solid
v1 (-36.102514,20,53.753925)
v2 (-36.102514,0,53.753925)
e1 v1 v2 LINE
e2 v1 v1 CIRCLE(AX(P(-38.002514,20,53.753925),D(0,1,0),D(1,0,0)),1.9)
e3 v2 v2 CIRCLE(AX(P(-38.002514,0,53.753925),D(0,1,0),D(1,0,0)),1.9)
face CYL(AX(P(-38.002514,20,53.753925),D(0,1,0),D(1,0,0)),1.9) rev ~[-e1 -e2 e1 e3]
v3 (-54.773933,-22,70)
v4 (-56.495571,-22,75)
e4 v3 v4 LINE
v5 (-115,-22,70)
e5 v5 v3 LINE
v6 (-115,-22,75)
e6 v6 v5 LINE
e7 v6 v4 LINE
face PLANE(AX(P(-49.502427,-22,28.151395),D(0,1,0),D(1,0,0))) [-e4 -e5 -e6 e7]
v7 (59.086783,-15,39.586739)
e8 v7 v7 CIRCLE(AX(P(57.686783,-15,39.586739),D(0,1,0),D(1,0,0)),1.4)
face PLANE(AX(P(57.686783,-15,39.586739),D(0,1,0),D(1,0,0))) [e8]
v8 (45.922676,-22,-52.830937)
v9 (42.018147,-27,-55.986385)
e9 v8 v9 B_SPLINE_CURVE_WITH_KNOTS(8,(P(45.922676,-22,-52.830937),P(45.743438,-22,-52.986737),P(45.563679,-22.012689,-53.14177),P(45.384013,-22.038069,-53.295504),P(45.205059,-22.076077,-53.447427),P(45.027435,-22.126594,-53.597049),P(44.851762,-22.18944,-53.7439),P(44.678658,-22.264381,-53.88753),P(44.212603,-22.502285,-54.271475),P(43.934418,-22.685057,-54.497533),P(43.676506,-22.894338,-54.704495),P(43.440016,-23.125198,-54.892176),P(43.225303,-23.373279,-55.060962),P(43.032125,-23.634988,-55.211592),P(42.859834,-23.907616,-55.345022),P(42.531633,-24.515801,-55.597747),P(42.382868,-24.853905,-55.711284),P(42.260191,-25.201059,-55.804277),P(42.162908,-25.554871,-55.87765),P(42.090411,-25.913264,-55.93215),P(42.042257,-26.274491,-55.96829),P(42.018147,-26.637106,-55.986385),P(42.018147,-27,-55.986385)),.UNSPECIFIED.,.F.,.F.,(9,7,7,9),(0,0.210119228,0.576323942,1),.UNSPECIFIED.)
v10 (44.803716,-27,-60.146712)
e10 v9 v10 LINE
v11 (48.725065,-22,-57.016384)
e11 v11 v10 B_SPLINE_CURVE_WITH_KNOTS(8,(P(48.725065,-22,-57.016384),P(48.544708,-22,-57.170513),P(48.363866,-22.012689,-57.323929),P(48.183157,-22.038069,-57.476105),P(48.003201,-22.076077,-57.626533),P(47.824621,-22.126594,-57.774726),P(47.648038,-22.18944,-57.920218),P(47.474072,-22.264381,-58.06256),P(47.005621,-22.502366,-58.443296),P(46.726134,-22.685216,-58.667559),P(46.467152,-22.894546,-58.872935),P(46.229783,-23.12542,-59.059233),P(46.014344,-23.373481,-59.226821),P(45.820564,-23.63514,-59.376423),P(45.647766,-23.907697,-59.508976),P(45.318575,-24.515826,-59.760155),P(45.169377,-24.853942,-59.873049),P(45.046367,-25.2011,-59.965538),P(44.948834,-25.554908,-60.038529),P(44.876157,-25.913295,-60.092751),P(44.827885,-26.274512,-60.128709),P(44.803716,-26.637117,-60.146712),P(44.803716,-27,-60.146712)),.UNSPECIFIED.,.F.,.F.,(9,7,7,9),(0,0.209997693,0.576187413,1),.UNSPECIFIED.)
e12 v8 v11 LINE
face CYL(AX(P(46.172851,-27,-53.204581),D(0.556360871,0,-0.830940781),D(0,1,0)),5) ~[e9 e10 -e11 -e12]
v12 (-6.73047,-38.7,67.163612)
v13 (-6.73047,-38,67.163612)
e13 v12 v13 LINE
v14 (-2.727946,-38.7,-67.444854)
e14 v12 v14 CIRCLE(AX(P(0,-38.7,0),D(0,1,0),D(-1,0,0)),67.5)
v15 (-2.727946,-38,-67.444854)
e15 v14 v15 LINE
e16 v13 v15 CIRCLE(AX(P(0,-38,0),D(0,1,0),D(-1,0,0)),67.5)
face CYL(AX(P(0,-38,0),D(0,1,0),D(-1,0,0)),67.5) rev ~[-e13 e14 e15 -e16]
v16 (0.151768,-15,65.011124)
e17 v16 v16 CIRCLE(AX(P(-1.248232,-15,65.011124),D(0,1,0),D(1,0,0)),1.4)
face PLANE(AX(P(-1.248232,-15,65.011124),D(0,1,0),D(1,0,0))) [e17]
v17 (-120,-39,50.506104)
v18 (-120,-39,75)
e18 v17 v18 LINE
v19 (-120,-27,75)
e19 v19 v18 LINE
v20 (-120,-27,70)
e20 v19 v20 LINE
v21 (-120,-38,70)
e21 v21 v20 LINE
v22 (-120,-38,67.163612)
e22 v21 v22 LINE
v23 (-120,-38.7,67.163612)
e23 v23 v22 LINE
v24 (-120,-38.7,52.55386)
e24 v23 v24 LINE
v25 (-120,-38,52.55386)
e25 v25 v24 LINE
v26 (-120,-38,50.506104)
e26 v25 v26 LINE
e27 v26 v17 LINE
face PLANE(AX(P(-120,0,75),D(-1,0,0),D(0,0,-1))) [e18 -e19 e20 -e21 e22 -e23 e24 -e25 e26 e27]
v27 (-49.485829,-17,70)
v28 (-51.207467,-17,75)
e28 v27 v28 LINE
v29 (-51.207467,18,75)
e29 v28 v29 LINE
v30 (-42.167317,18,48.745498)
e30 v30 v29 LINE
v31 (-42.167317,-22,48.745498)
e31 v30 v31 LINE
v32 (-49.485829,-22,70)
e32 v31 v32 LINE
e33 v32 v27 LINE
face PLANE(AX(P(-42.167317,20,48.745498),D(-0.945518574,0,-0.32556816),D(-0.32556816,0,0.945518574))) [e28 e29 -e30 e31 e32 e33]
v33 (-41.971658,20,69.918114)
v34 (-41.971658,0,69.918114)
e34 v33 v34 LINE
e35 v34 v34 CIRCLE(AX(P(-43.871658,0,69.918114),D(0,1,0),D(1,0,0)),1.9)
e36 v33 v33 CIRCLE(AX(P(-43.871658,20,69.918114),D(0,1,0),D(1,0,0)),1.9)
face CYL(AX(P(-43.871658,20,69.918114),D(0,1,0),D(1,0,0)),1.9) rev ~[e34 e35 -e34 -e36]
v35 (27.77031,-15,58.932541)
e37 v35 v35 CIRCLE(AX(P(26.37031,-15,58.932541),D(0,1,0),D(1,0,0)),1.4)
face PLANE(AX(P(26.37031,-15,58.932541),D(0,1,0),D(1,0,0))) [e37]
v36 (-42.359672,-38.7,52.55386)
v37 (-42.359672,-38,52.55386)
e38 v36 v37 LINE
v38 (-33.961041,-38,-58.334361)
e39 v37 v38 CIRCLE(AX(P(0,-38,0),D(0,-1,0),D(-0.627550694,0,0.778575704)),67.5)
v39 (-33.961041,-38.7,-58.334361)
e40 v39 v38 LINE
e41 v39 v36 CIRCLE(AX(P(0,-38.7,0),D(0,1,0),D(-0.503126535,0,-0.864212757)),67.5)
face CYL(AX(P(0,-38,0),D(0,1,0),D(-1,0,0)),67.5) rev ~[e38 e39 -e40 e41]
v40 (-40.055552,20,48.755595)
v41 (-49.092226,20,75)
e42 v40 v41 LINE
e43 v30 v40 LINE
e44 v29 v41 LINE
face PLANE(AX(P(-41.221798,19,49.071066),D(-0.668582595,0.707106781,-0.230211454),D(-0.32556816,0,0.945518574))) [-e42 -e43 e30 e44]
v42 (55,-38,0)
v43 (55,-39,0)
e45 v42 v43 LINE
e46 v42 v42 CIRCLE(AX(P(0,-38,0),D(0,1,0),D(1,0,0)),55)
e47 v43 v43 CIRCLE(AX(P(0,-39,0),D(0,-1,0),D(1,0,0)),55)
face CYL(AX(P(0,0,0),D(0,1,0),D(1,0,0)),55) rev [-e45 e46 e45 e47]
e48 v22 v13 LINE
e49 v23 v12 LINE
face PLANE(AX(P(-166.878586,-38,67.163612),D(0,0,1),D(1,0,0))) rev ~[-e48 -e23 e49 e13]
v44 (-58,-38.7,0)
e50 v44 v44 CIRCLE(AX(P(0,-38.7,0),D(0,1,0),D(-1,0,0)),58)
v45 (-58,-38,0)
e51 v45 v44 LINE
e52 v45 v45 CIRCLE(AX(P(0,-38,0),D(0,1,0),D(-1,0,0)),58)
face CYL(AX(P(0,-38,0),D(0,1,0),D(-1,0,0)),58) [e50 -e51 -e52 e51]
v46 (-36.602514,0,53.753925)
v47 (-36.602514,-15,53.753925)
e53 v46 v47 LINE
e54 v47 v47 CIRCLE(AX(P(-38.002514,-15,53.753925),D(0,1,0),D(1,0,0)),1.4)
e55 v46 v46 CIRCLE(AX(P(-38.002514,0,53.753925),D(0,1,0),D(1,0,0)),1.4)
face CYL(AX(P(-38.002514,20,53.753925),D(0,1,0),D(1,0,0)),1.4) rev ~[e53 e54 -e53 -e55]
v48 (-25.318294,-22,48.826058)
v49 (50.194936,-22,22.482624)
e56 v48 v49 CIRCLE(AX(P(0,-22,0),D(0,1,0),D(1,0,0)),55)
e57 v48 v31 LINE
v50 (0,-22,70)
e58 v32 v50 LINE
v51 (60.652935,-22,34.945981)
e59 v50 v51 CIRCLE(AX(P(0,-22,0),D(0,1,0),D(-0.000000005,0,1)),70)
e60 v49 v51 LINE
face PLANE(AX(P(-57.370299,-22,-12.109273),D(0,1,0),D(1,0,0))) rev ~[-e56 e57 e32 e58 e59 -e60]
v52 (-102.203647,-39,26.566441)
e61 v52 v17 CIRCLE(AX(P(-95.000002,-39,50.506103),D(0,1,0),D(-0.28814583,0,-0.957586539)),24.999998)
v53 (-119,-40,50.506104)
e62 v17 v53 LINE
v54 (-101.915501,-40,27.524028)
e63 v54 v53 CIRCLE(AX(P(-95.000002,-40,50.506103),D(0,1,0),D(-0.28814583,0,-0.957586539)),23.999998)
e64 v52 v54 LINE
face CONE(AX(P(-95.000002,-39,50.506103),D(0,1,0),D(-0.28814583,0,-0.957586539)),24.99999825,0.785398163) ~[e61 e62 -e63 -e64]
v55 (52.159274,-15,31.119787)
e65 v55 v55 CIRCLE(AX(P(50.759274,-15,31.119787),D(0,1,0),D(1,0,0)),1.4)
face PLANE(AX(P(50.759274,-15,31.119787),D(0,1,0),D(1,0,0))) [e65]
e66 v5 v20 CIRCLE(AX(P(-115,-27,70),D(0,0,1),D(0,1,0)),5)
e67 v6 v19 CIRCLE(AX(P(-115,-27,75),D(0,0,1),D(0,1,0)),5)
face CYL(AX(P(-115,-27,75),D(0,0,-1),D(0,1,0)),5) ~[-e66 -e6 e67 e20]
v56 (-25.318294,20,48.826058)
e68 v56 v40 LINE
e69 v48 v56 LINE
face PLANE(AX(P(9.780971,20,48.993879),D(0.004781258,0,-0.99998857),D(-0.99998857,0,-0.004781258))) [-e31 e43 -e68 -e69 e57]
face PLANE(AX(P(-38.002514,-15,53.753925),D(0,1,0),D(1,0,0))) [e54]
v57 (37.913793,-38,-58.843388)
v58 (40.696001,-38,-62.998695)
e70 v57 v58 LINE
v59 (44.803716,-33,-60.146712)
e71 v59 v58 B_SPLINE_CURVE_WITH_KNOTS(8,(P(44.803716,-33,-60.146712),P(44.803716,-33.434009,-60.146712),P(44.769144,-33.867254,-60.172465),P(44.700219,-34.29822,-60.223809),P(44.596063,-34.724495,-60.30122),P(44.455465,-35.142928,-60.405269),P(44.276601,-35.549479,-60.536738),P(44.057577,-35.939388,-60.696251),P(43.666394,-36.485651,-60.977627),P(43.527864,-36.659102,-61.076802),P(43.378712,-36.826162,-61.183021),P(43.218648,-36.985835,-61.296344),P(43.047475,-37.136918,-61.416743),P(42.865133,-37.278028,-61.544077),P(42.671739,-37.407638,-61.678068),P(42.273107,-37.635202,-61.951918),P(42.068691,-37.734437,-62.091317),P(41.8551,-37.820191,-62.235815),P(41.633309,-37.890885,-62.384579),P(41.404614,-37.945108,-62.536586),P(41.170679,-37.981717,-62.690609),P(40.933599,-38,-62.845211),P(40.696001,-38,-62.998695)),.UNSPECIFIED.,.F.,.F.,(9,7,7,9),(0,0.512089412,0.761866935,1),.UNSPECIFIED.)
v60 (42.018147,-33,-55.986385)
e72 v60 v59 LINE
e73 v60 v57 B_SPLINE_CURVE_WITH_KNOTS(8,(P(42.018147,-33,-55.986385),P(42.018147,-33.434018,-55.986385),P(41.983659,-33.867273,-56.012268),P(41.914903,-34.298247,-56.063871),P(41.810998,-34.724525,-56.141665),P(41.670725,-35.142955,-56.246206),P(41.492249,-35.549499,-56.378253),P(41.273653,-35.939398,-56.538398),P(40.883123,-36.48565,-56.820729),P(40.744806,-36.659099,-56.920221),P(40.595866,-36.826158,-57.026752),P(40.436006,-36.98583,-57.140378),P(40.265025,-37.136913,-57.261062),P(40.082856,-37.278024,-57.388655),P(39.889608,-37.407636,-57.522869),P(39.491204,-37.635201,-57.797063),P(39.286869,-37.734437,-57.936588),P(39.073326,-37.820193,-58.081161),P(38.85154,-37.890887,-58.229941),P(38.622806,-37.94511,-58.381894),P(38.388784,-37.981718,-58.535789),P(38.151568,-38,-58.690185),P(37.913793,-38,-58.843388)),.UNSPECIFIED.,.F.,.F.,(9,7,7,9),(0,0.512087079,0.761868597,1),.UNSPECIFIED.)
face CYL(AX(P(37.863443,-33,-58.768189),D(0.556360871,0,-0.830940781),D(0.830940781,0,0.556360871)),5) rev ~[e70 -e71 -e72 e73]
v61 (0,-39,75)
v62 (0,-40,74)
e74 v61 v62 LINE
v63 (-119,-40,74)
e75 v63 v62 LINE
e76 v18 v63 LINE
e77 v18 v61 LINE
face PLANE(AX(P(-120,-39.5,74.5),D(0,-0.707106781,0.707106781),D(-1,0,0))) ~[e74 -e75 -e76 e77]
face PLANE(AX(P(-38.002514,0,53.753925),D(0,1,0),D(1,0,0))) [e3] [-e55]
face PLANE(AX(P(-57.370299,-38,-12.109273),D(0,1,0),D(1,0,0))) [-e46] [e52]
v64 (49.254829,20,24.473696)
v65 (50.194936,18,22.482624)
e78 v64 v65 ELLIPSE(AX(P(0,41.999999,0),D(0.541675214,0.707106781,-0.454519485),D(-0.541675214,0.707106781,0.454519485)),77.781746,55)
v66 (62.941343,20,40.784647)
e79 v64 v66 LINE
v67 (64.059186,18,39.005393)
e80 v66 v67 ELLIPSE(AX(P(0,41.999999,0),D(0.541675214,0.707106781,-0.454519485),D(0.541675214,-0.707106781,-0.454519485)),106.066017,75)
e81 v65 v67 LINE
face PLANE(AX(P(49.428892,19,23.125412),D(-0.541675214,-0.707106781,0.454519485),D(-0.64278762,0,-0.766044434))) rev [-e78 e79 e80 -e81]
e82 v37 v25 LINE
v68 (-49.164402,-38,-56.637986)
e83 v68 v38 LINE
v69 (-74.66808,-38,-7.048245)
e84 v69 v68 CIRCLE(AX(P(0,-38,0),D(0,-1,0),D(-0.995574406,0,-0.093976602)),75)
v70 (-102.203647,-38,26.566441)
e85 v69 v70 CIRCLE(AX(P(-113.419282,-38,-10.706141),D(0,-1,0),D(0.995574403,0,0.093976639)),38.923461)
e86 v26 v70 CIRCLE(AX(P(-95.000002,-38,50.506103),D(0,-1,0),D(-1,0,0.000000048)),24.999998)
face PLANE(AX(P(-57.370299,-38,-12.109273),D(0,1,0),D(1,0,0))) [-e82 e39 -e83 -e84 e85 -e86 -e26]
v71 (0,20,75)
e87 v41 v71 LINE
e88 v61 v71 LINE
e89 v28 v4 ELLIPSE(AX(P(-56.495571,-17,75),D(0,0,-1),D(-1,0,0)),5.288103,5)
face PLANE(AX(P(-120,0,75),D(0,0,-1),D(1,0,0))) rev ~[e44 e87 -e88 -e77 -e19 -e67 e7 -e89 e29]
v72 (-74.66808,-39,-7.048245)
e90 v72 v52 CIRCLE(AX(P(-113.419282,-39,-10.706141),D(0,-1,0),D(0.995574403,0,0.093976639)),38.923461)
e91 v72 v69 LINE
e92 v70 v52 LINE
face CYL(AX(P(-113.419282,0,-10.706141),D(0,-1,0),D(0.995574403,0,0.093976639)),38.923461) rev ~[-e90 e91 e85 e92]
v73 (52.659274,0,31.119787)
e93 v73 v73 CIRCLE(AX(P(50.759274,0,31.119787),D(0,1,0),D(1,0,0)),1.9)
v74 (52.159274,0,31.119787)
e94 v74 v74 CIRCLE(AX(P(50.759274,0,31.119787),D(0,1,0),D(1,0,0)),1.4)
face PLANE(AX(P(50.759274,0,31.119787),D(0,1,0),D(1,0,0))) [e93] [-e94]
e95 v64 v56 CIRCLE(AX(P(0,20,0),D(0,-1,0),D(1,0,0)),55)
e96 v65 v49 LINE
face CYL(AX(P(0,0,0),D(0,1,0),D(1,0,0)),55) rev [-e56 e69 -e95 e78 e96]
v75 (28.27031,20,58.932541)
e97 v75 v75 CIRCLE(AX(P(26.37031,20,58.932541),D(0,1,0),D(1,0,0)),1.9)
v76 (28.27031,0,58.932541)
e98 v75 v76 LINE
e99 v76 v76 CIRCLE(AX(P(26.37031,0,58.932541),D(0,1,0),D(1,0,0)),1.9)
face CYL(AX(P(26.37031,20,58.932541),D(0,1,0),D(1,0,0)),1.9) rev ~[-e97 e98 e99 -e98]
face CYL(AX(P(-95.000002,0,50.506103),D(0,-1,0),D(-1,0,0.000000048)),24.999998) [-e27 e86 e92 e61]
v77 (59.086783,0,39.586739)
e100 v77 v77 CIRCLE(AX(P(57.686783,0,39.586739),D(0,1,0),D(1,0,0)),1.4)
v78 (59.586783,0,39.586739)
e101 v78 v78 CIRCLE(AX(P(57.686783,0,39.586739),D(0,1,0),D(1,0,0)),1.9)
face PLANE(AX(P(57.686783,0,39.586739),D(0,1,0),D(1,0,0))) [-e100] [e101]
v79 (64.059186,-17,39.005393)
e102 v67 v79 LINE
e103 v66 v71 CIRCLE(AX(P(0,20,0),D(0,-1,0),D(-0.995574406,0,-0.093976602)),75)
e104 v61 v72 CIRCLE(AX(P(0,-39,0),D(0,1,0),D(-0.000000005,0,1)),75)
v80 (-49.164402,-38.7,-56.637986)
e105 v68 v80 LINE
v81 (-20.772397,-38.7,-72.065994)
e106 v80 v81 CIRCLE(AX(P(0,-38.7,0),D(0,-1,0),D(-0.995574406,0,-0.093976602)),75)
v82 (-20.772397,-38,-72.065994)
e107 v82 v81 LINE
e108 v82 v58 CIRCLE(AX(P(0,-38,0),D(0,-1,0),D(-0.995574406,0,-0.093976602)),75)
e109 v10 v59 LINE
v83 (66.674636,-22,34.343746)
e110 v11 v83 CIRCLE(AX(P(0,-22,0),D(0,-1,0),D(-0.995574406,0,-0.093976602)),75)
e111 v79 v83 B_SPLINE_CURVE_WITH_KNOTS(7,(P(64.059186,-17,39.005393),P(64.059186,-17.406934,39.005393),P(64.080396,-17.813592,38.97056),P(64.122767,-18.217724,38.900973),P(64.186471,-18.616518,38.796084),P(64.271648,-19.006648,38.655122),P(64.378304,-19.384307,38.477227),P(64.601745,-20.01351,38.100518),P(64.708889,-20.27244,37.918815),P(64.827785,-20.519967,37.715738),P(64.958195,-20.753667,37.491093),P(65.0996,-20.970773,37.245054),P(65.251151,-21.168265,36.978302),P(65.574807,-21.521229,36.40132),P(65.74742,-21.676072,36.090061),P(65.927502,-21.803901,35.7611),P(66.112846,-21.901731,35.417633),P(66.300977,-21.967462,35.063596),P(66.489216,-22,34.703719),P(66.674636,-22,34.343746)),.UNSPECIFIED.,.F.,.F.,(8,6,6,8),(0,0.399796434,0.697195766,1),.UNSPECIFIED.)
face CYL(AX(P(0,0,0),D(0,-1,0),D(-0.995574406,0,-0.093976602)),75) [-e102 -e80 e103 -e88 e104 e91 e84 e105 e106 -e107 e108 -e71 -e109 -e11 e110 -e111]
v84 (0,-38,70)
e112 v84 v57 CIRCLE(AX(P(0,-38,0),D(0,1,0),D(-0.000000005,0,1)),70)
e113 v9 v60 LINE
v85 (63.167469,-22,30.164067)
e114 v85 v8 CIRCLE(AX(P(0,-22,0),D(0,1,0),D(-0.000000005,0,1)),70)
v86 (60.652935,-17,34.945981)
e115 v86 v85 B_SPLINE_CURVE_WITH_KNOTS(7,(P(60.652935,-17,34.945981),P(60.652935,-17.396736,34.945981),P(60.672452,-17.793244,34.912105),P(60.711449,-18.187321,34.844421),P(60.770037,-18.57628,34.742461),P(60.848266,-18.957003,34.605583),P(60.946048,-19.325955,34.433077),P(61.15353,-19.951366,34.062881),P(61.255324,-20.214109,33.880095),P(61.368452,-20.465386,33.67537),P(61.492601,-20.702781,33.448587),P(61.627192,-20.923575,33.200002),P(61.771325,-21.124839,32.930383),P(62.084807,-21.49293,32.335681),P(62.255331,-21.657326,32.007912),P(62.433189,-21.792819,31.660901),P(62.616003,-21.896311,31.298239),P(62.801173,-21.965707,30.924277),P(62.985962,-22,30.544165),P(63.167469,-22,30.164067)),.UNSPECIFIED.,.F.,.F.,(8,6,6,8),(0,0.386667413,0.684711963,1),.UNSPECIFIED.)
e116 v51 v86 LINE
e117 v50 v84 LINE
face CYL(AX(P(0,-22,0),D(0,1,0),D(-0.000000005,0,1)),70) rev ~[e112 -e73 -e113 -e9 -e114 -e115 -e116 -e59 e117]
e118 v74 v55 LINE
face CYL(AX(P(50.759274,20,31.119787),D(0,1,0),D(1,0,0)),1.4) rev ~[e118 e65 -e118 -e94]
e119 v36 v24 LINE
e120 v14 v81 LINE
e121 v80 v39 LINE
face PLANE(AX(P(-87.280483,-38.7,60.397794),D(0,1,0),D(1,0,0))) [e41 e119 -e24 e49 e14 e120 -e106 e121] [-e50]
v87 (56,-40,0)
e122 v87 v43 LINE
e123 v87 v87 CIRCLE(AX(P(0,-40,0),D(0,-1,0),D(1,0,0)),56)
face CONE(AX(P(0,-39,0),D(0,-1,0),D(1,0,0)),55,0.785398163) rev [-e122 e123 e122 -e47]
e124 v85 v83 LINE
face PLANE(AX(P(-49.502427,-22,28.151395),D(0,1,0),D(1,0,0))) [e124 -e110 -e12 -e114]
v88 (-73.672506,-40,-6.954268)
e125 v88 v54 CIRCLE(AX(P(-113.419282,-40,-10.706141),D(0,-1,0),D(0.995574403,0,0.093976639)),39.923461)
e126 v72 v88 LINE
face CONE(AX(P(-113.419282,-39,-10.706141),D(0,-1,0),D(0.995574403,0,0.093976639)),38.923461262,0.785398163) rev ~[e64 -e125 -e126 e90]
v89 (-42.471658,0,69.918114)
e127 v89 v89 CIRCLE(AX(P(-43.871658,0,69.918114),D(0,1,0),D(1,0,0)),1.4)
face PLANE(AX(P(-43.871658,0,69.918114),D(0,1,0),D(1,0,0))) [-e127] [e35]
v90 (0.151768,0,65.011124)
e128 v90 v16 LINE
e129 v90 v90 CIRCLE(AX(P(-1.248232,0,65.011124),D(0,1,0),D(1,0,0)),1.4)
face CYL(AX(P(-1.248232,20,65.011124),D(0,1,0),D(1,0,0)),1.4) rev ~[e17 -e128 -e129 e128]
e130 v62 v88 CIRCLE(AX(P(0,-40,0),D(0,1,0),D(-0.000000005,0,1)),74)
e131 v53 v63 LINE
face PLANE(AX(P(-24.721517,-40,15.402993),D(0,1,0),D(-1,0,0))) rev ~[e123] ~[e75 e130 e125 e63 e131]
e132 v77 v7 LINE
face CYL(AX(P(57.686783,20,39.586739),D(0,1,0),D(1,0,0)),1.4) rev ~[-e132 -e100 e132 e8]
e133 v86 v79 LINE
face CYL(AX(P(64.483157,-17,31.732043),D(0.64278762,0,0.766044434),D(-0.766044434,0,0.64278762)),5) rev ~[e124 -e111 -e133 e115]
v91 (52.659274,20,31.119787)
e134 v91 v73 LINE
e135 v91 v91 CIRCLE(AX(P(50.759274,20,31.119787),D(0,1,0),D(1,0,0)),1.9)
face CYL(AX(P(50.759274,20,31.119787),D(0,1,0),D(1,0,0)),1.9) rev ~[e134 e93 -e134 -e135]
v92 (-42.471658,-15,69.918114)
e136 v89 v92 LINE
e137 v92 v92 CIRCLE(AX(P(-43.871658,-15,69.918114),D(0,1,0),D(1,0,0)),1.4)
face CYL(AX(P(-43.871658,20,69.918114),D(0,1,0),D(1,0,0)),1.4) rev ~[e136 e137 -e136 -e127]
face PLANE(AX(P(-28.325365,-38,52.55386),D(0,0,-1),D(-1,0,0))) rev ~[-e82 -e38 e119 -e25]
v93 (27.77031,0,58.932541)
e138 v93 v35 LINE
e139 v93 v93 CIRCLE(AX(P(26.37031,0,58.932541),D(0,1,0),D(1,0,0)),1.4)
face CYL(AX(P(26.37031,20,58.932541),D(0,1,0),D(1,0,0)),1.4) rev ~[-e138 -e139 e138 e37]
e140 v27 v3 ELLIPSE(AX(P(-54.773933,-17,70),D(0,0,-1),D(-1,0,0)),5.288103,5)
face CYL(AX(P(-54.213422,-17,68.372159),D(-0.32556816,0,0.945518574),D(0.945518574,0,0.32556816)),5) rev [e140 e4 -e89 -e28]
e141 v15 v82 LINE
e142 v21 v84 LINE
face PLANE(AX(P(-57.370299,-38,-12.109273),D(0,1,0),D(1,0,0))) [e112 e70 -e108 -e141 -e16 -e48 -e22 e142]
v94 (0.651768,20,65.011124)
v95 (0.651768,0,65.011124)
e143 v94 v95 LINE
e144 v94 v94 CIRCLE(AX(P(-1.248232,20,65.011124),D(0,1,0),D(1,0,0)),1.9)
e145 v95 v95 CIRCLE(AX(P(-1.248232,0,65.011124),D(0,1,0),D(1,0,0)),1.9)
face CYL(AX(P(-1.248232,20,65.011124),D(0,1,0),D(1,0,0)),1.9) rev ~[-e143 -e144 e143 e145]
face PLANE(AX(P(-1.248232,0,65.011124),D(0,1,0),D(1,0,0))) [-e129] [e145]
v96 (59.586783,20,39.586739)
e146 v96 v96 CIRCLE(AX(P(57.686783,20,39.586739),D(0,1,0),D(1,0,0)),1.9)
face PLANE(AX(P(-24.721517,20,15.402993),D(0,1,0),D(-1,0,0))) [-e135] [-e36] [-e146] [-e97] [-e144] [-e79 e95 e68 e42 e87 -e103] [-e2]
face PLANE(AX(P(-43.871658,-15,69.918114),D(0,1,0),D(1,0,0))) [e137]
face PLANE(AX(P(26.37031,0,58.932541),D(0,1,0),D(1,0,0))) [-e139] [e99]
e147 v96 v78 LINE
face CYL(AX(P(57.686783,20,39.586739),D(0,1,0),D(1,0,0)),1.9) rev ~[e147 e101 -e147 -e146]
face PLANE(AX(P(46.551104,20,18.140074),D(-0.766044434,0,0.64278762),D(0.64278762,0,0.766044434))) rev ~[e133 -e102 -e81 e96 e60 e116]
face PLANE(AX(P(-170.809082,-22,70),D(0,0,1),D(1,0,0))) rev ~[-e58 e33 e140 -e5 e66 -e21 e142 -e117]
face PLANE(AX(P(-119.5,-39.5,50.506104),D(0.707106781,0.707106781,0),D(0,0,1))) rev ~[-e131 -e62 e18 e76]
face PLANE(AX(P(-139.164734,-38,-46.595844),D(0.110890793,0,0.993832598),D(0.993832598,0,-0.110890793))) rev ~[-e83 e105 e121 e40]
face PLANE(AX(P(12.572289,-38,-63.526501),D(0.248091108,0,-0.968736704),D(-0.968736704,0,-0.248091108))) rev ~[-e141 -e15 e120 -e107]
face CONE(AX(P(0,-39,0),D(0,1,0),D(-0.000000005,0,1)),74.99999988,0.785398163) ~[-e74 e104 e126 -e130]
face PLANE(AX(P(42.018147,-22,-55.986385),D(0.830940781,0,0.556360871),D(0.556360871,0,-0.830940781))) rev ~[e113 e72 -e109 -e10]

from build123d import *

# Parameters (mm, degrees)
SKETCH_R        = 55
PAD_DEPTH       = 40
PAD_DEPTH_BACK  = 20
POCKET_DEPTH    = 42
POCKET001_DEPTH = 16
SKETCH004_R     = 67.5
SKETCH004_R_2   = 58
POCKET002_DEPTH = 0.7
POCKET003_DEPTH = 0.7
SKETCH006_R     = 1.4
POCKET004_DEPTH = 35
SKETCH007_R     = 1.9
POCKET005_DEPTH = 20
FILLET_R        = 5
FILLET001_R     = 5
FILLET002_R     = 5
FILLET003_R     = 5
CHAMFER_SIZE    = 2
CHAMFER001_SIZE = 1


with BuildPart() as part:
    # Sketch → Pad (new body, two sides)
    with BuildSketch(Plane.XZ) as pad_sk:
        with BuildLine():
            Line((-120, 75), (0, 75))
            ThreePointArc((-74.66808, -7.048245), (55.468993, -50.479608), (0, 75))
            ThreePointArc((-74.66808, -7.048245), (-83.30852, 13.959176), (-102.203647, 26.566441))
            ThreePointArc((-120, 50.506104), (-115.063539, 35.591198), (-102.203647, 26.566441))
            Line((-120, 75), (-120, 50.506104))
        make_face()
        Circle(SKETCH_R, mode=Mode.SUBTRACT)
    extrude(amount=PAD_DEPTH)
    extrude(pad_sk.sketch, amount=-PAD_DEPTH_BACK)

    # Sketch001 (on Face7 of Pad) → Pocket (cut)
    with BuildSketch(Plane(origin=(0, 20, 0), x_dir=(1, 0, 0), z_dir=(0, 1, 0))):
        with BuildLine():
            Line((46.551104, -18.140074), (74.636799, -51.611301))
            ThreePointArc((74.636799, -51.611301), (27.033088, 86.623267), (-90.743475, 0))
            Line((-211.758942, -108.831918), (-90.743475, 0))
            Line((-62.856731, -108.831918), (-211.758942, -108.831918))
            Line((-42.167317, -48.745498), (-62.856731, -108.831918))
            Line((9.780971, -48.993879), (-42.167317, -48.745498))
            Line((46.551104, -18.140074), (9.780971, -48.993879))
        make_face()
    extrude(amount=-POCKET_DEPTH, mode=Mode.SUBTRACT)

    # Sketch003 (on Face2 of Pocket) → Pocket001 (cut)
    with BuildSketch(Plane(origin=(0, -22, 0), x_dir=(1, 0, 0), z_dir=(0, 1, 0))):
        with BuildLine():
            ThreePointArc((0, -70), (66.404243, -22.146705), (42.018147, 55.986385))
            Line((42.018147, 55.986385), (62.226624, 86.16832))
            Line((62.226624, 86.16832), (-170.809082, 86.16832))
            Line((-170.809082, 86.16832), (-170.809082, -70))
            Line((-170.809082, -70), (0, -70))
        make_face()
    extrude(amount=-POCKET001_DEPTH, mode=Mode.SUBTRACT)

    # Sketch004 → Pocket002 (cut)
    with BuildSketch(Plane(origin=(0, -38, 0), x_dir=(-1, 0, 0), z_dir=(0, 1, 0))):
        Circle(SKETCH004_R)
        Circle(SKETCH004_R_2, mode=Mode.SUBTRACT)
    extrude(amount=-POCKET002_DEPTH, mode=Mode.SUBTRACT)

    # Sketch005 (on Face14 of Pocket002) → Pocket003 (cut)
    with BuildSketch(Plane(origin=(0, -38, 0), x_dir=(1, 0, 0), z_dir=(0, 1, 0))):
        Polygon((-1.938341, -67.163612), (-28.325365, -52.55386), (-167.517487, -52.55386), (-166.878586, -67.163612), align=None)
        Polygon((12.572289, 63.526501), (-92.206108, 90.359993), (-139.164734, 46.595844), align=None)
    extrude(amount=-POCKET003_DEPTH, mode=Mode.SUBTRACT)

    # Sketch006 (on Face4 of Pocket003) → Pocket004 (cut)
    with BuildSketch(Plane(origin=(0, 20, 0), x_dir=(1, 0, 0), z_dir=(0, 1, 0))):
        with Locations((-38.002514, -53.753925)):
            Circle(SKETCH006_R)
        with Locations((-43.871658, -69.918114)):
            Circle(SKETCH006_R)
        with Locations((-1.248232, -65.011124)):
            Circle(SKETCH006_R)
        with Locations((26.37031, -58.932541)):
            Circle(SKETCH006_R)
        with Locations((50.759274, -31.119787)):
            Circle(SKETCH006_R)
        with Locations((57.686783, -39.586739)):
            Circle(SKETCH006_R)
    extrude(amount=-POCKET004_DEPTH, mode=Mode.SUBTRACT)

    # Sketch007 (on Face4 of Pocket004) → Pocket005 (cut)
    with BuildSketch(Plane(origin=(0, 20, 0), x_dir=(1, 0, 0), z_dir=(0, 1, 0))):
        with Locations((-38.002514, -53.753925)):
            Circle(SKETCH007_R)
        with Locations((-43.871658, -69.918114)):
            Circle(SKETCH007_R)
        with Locations((-1.248232, -65.011124)):
            Circle(SKETCH007_R)
        with Locations((26.37031, -58.932541)):
            Circle(SKETCH007_R)
        with Locations((50.759274, -31.119787)):
            Circle(SKETCH007_R)
        with Locations((57.686783, -39.586739)):
            Circle(SKETCH007_R)
    extrude(amount=-POCKET005_DEPTH, mode=Mode.SUBTRACT)

    # Fillet
    fillet_edges = [part.edges().sort_by_distance(p)[0] for p in [
        (-50.346648, -22, 72.5),
    ]]
    fillet(fillet_edges, radius=FILLET_R)

    # Fillet001
    fillet001_edges = [part.edges().sort_by_distance(p)[0] for p in [
        (-120, -22, 72.5),
    ]]
    fillet(fillet001_edges, radius=FILLET001_R)

    # Fillet002
    fillet002_edges = [part.edges().sort_by_distance(p)[0] for p in [
        (62.35606, -22, 36.975687),
    ]]
    fillet(fillet002_edges, radius=FILLET002_R)

    # Fillet003
    fillet003_edges = [part.edges().sort_by_distance(p)[0] for p in [
        (43.410932, -22, -58.066548),
        (43.410932, -38, -58.066548),
    ]]
    fillet(fillet003_edges, radius=FILLET003_R)

    # Chamfer
    chamfer_edges = [part.edges().sort_by_distance(p)[0] for p in [
        (-46.687392, 20, 61.872749),
        (57.127061, 20, 30.744008),
    ]]
    chamfer(chamfer_edges, length=CHAMFER_SIZE)

    # Chamfer001
    chamfer001_edges = [part.edges().sort_by_distance(p)[0] for p in [
        (-60, -40, 75),
        (55.468993, -40, -50.479608),
        (-83.30852, -40, 13.959176),
        (-115.063539, -40, 35.591198),
        (-120, -40, 62.753052),
        (-55, -40, 0),
    ]]
    chamfer(chamfer001_edges, length=CHAMFER001_SIZE)


solid = part.part
